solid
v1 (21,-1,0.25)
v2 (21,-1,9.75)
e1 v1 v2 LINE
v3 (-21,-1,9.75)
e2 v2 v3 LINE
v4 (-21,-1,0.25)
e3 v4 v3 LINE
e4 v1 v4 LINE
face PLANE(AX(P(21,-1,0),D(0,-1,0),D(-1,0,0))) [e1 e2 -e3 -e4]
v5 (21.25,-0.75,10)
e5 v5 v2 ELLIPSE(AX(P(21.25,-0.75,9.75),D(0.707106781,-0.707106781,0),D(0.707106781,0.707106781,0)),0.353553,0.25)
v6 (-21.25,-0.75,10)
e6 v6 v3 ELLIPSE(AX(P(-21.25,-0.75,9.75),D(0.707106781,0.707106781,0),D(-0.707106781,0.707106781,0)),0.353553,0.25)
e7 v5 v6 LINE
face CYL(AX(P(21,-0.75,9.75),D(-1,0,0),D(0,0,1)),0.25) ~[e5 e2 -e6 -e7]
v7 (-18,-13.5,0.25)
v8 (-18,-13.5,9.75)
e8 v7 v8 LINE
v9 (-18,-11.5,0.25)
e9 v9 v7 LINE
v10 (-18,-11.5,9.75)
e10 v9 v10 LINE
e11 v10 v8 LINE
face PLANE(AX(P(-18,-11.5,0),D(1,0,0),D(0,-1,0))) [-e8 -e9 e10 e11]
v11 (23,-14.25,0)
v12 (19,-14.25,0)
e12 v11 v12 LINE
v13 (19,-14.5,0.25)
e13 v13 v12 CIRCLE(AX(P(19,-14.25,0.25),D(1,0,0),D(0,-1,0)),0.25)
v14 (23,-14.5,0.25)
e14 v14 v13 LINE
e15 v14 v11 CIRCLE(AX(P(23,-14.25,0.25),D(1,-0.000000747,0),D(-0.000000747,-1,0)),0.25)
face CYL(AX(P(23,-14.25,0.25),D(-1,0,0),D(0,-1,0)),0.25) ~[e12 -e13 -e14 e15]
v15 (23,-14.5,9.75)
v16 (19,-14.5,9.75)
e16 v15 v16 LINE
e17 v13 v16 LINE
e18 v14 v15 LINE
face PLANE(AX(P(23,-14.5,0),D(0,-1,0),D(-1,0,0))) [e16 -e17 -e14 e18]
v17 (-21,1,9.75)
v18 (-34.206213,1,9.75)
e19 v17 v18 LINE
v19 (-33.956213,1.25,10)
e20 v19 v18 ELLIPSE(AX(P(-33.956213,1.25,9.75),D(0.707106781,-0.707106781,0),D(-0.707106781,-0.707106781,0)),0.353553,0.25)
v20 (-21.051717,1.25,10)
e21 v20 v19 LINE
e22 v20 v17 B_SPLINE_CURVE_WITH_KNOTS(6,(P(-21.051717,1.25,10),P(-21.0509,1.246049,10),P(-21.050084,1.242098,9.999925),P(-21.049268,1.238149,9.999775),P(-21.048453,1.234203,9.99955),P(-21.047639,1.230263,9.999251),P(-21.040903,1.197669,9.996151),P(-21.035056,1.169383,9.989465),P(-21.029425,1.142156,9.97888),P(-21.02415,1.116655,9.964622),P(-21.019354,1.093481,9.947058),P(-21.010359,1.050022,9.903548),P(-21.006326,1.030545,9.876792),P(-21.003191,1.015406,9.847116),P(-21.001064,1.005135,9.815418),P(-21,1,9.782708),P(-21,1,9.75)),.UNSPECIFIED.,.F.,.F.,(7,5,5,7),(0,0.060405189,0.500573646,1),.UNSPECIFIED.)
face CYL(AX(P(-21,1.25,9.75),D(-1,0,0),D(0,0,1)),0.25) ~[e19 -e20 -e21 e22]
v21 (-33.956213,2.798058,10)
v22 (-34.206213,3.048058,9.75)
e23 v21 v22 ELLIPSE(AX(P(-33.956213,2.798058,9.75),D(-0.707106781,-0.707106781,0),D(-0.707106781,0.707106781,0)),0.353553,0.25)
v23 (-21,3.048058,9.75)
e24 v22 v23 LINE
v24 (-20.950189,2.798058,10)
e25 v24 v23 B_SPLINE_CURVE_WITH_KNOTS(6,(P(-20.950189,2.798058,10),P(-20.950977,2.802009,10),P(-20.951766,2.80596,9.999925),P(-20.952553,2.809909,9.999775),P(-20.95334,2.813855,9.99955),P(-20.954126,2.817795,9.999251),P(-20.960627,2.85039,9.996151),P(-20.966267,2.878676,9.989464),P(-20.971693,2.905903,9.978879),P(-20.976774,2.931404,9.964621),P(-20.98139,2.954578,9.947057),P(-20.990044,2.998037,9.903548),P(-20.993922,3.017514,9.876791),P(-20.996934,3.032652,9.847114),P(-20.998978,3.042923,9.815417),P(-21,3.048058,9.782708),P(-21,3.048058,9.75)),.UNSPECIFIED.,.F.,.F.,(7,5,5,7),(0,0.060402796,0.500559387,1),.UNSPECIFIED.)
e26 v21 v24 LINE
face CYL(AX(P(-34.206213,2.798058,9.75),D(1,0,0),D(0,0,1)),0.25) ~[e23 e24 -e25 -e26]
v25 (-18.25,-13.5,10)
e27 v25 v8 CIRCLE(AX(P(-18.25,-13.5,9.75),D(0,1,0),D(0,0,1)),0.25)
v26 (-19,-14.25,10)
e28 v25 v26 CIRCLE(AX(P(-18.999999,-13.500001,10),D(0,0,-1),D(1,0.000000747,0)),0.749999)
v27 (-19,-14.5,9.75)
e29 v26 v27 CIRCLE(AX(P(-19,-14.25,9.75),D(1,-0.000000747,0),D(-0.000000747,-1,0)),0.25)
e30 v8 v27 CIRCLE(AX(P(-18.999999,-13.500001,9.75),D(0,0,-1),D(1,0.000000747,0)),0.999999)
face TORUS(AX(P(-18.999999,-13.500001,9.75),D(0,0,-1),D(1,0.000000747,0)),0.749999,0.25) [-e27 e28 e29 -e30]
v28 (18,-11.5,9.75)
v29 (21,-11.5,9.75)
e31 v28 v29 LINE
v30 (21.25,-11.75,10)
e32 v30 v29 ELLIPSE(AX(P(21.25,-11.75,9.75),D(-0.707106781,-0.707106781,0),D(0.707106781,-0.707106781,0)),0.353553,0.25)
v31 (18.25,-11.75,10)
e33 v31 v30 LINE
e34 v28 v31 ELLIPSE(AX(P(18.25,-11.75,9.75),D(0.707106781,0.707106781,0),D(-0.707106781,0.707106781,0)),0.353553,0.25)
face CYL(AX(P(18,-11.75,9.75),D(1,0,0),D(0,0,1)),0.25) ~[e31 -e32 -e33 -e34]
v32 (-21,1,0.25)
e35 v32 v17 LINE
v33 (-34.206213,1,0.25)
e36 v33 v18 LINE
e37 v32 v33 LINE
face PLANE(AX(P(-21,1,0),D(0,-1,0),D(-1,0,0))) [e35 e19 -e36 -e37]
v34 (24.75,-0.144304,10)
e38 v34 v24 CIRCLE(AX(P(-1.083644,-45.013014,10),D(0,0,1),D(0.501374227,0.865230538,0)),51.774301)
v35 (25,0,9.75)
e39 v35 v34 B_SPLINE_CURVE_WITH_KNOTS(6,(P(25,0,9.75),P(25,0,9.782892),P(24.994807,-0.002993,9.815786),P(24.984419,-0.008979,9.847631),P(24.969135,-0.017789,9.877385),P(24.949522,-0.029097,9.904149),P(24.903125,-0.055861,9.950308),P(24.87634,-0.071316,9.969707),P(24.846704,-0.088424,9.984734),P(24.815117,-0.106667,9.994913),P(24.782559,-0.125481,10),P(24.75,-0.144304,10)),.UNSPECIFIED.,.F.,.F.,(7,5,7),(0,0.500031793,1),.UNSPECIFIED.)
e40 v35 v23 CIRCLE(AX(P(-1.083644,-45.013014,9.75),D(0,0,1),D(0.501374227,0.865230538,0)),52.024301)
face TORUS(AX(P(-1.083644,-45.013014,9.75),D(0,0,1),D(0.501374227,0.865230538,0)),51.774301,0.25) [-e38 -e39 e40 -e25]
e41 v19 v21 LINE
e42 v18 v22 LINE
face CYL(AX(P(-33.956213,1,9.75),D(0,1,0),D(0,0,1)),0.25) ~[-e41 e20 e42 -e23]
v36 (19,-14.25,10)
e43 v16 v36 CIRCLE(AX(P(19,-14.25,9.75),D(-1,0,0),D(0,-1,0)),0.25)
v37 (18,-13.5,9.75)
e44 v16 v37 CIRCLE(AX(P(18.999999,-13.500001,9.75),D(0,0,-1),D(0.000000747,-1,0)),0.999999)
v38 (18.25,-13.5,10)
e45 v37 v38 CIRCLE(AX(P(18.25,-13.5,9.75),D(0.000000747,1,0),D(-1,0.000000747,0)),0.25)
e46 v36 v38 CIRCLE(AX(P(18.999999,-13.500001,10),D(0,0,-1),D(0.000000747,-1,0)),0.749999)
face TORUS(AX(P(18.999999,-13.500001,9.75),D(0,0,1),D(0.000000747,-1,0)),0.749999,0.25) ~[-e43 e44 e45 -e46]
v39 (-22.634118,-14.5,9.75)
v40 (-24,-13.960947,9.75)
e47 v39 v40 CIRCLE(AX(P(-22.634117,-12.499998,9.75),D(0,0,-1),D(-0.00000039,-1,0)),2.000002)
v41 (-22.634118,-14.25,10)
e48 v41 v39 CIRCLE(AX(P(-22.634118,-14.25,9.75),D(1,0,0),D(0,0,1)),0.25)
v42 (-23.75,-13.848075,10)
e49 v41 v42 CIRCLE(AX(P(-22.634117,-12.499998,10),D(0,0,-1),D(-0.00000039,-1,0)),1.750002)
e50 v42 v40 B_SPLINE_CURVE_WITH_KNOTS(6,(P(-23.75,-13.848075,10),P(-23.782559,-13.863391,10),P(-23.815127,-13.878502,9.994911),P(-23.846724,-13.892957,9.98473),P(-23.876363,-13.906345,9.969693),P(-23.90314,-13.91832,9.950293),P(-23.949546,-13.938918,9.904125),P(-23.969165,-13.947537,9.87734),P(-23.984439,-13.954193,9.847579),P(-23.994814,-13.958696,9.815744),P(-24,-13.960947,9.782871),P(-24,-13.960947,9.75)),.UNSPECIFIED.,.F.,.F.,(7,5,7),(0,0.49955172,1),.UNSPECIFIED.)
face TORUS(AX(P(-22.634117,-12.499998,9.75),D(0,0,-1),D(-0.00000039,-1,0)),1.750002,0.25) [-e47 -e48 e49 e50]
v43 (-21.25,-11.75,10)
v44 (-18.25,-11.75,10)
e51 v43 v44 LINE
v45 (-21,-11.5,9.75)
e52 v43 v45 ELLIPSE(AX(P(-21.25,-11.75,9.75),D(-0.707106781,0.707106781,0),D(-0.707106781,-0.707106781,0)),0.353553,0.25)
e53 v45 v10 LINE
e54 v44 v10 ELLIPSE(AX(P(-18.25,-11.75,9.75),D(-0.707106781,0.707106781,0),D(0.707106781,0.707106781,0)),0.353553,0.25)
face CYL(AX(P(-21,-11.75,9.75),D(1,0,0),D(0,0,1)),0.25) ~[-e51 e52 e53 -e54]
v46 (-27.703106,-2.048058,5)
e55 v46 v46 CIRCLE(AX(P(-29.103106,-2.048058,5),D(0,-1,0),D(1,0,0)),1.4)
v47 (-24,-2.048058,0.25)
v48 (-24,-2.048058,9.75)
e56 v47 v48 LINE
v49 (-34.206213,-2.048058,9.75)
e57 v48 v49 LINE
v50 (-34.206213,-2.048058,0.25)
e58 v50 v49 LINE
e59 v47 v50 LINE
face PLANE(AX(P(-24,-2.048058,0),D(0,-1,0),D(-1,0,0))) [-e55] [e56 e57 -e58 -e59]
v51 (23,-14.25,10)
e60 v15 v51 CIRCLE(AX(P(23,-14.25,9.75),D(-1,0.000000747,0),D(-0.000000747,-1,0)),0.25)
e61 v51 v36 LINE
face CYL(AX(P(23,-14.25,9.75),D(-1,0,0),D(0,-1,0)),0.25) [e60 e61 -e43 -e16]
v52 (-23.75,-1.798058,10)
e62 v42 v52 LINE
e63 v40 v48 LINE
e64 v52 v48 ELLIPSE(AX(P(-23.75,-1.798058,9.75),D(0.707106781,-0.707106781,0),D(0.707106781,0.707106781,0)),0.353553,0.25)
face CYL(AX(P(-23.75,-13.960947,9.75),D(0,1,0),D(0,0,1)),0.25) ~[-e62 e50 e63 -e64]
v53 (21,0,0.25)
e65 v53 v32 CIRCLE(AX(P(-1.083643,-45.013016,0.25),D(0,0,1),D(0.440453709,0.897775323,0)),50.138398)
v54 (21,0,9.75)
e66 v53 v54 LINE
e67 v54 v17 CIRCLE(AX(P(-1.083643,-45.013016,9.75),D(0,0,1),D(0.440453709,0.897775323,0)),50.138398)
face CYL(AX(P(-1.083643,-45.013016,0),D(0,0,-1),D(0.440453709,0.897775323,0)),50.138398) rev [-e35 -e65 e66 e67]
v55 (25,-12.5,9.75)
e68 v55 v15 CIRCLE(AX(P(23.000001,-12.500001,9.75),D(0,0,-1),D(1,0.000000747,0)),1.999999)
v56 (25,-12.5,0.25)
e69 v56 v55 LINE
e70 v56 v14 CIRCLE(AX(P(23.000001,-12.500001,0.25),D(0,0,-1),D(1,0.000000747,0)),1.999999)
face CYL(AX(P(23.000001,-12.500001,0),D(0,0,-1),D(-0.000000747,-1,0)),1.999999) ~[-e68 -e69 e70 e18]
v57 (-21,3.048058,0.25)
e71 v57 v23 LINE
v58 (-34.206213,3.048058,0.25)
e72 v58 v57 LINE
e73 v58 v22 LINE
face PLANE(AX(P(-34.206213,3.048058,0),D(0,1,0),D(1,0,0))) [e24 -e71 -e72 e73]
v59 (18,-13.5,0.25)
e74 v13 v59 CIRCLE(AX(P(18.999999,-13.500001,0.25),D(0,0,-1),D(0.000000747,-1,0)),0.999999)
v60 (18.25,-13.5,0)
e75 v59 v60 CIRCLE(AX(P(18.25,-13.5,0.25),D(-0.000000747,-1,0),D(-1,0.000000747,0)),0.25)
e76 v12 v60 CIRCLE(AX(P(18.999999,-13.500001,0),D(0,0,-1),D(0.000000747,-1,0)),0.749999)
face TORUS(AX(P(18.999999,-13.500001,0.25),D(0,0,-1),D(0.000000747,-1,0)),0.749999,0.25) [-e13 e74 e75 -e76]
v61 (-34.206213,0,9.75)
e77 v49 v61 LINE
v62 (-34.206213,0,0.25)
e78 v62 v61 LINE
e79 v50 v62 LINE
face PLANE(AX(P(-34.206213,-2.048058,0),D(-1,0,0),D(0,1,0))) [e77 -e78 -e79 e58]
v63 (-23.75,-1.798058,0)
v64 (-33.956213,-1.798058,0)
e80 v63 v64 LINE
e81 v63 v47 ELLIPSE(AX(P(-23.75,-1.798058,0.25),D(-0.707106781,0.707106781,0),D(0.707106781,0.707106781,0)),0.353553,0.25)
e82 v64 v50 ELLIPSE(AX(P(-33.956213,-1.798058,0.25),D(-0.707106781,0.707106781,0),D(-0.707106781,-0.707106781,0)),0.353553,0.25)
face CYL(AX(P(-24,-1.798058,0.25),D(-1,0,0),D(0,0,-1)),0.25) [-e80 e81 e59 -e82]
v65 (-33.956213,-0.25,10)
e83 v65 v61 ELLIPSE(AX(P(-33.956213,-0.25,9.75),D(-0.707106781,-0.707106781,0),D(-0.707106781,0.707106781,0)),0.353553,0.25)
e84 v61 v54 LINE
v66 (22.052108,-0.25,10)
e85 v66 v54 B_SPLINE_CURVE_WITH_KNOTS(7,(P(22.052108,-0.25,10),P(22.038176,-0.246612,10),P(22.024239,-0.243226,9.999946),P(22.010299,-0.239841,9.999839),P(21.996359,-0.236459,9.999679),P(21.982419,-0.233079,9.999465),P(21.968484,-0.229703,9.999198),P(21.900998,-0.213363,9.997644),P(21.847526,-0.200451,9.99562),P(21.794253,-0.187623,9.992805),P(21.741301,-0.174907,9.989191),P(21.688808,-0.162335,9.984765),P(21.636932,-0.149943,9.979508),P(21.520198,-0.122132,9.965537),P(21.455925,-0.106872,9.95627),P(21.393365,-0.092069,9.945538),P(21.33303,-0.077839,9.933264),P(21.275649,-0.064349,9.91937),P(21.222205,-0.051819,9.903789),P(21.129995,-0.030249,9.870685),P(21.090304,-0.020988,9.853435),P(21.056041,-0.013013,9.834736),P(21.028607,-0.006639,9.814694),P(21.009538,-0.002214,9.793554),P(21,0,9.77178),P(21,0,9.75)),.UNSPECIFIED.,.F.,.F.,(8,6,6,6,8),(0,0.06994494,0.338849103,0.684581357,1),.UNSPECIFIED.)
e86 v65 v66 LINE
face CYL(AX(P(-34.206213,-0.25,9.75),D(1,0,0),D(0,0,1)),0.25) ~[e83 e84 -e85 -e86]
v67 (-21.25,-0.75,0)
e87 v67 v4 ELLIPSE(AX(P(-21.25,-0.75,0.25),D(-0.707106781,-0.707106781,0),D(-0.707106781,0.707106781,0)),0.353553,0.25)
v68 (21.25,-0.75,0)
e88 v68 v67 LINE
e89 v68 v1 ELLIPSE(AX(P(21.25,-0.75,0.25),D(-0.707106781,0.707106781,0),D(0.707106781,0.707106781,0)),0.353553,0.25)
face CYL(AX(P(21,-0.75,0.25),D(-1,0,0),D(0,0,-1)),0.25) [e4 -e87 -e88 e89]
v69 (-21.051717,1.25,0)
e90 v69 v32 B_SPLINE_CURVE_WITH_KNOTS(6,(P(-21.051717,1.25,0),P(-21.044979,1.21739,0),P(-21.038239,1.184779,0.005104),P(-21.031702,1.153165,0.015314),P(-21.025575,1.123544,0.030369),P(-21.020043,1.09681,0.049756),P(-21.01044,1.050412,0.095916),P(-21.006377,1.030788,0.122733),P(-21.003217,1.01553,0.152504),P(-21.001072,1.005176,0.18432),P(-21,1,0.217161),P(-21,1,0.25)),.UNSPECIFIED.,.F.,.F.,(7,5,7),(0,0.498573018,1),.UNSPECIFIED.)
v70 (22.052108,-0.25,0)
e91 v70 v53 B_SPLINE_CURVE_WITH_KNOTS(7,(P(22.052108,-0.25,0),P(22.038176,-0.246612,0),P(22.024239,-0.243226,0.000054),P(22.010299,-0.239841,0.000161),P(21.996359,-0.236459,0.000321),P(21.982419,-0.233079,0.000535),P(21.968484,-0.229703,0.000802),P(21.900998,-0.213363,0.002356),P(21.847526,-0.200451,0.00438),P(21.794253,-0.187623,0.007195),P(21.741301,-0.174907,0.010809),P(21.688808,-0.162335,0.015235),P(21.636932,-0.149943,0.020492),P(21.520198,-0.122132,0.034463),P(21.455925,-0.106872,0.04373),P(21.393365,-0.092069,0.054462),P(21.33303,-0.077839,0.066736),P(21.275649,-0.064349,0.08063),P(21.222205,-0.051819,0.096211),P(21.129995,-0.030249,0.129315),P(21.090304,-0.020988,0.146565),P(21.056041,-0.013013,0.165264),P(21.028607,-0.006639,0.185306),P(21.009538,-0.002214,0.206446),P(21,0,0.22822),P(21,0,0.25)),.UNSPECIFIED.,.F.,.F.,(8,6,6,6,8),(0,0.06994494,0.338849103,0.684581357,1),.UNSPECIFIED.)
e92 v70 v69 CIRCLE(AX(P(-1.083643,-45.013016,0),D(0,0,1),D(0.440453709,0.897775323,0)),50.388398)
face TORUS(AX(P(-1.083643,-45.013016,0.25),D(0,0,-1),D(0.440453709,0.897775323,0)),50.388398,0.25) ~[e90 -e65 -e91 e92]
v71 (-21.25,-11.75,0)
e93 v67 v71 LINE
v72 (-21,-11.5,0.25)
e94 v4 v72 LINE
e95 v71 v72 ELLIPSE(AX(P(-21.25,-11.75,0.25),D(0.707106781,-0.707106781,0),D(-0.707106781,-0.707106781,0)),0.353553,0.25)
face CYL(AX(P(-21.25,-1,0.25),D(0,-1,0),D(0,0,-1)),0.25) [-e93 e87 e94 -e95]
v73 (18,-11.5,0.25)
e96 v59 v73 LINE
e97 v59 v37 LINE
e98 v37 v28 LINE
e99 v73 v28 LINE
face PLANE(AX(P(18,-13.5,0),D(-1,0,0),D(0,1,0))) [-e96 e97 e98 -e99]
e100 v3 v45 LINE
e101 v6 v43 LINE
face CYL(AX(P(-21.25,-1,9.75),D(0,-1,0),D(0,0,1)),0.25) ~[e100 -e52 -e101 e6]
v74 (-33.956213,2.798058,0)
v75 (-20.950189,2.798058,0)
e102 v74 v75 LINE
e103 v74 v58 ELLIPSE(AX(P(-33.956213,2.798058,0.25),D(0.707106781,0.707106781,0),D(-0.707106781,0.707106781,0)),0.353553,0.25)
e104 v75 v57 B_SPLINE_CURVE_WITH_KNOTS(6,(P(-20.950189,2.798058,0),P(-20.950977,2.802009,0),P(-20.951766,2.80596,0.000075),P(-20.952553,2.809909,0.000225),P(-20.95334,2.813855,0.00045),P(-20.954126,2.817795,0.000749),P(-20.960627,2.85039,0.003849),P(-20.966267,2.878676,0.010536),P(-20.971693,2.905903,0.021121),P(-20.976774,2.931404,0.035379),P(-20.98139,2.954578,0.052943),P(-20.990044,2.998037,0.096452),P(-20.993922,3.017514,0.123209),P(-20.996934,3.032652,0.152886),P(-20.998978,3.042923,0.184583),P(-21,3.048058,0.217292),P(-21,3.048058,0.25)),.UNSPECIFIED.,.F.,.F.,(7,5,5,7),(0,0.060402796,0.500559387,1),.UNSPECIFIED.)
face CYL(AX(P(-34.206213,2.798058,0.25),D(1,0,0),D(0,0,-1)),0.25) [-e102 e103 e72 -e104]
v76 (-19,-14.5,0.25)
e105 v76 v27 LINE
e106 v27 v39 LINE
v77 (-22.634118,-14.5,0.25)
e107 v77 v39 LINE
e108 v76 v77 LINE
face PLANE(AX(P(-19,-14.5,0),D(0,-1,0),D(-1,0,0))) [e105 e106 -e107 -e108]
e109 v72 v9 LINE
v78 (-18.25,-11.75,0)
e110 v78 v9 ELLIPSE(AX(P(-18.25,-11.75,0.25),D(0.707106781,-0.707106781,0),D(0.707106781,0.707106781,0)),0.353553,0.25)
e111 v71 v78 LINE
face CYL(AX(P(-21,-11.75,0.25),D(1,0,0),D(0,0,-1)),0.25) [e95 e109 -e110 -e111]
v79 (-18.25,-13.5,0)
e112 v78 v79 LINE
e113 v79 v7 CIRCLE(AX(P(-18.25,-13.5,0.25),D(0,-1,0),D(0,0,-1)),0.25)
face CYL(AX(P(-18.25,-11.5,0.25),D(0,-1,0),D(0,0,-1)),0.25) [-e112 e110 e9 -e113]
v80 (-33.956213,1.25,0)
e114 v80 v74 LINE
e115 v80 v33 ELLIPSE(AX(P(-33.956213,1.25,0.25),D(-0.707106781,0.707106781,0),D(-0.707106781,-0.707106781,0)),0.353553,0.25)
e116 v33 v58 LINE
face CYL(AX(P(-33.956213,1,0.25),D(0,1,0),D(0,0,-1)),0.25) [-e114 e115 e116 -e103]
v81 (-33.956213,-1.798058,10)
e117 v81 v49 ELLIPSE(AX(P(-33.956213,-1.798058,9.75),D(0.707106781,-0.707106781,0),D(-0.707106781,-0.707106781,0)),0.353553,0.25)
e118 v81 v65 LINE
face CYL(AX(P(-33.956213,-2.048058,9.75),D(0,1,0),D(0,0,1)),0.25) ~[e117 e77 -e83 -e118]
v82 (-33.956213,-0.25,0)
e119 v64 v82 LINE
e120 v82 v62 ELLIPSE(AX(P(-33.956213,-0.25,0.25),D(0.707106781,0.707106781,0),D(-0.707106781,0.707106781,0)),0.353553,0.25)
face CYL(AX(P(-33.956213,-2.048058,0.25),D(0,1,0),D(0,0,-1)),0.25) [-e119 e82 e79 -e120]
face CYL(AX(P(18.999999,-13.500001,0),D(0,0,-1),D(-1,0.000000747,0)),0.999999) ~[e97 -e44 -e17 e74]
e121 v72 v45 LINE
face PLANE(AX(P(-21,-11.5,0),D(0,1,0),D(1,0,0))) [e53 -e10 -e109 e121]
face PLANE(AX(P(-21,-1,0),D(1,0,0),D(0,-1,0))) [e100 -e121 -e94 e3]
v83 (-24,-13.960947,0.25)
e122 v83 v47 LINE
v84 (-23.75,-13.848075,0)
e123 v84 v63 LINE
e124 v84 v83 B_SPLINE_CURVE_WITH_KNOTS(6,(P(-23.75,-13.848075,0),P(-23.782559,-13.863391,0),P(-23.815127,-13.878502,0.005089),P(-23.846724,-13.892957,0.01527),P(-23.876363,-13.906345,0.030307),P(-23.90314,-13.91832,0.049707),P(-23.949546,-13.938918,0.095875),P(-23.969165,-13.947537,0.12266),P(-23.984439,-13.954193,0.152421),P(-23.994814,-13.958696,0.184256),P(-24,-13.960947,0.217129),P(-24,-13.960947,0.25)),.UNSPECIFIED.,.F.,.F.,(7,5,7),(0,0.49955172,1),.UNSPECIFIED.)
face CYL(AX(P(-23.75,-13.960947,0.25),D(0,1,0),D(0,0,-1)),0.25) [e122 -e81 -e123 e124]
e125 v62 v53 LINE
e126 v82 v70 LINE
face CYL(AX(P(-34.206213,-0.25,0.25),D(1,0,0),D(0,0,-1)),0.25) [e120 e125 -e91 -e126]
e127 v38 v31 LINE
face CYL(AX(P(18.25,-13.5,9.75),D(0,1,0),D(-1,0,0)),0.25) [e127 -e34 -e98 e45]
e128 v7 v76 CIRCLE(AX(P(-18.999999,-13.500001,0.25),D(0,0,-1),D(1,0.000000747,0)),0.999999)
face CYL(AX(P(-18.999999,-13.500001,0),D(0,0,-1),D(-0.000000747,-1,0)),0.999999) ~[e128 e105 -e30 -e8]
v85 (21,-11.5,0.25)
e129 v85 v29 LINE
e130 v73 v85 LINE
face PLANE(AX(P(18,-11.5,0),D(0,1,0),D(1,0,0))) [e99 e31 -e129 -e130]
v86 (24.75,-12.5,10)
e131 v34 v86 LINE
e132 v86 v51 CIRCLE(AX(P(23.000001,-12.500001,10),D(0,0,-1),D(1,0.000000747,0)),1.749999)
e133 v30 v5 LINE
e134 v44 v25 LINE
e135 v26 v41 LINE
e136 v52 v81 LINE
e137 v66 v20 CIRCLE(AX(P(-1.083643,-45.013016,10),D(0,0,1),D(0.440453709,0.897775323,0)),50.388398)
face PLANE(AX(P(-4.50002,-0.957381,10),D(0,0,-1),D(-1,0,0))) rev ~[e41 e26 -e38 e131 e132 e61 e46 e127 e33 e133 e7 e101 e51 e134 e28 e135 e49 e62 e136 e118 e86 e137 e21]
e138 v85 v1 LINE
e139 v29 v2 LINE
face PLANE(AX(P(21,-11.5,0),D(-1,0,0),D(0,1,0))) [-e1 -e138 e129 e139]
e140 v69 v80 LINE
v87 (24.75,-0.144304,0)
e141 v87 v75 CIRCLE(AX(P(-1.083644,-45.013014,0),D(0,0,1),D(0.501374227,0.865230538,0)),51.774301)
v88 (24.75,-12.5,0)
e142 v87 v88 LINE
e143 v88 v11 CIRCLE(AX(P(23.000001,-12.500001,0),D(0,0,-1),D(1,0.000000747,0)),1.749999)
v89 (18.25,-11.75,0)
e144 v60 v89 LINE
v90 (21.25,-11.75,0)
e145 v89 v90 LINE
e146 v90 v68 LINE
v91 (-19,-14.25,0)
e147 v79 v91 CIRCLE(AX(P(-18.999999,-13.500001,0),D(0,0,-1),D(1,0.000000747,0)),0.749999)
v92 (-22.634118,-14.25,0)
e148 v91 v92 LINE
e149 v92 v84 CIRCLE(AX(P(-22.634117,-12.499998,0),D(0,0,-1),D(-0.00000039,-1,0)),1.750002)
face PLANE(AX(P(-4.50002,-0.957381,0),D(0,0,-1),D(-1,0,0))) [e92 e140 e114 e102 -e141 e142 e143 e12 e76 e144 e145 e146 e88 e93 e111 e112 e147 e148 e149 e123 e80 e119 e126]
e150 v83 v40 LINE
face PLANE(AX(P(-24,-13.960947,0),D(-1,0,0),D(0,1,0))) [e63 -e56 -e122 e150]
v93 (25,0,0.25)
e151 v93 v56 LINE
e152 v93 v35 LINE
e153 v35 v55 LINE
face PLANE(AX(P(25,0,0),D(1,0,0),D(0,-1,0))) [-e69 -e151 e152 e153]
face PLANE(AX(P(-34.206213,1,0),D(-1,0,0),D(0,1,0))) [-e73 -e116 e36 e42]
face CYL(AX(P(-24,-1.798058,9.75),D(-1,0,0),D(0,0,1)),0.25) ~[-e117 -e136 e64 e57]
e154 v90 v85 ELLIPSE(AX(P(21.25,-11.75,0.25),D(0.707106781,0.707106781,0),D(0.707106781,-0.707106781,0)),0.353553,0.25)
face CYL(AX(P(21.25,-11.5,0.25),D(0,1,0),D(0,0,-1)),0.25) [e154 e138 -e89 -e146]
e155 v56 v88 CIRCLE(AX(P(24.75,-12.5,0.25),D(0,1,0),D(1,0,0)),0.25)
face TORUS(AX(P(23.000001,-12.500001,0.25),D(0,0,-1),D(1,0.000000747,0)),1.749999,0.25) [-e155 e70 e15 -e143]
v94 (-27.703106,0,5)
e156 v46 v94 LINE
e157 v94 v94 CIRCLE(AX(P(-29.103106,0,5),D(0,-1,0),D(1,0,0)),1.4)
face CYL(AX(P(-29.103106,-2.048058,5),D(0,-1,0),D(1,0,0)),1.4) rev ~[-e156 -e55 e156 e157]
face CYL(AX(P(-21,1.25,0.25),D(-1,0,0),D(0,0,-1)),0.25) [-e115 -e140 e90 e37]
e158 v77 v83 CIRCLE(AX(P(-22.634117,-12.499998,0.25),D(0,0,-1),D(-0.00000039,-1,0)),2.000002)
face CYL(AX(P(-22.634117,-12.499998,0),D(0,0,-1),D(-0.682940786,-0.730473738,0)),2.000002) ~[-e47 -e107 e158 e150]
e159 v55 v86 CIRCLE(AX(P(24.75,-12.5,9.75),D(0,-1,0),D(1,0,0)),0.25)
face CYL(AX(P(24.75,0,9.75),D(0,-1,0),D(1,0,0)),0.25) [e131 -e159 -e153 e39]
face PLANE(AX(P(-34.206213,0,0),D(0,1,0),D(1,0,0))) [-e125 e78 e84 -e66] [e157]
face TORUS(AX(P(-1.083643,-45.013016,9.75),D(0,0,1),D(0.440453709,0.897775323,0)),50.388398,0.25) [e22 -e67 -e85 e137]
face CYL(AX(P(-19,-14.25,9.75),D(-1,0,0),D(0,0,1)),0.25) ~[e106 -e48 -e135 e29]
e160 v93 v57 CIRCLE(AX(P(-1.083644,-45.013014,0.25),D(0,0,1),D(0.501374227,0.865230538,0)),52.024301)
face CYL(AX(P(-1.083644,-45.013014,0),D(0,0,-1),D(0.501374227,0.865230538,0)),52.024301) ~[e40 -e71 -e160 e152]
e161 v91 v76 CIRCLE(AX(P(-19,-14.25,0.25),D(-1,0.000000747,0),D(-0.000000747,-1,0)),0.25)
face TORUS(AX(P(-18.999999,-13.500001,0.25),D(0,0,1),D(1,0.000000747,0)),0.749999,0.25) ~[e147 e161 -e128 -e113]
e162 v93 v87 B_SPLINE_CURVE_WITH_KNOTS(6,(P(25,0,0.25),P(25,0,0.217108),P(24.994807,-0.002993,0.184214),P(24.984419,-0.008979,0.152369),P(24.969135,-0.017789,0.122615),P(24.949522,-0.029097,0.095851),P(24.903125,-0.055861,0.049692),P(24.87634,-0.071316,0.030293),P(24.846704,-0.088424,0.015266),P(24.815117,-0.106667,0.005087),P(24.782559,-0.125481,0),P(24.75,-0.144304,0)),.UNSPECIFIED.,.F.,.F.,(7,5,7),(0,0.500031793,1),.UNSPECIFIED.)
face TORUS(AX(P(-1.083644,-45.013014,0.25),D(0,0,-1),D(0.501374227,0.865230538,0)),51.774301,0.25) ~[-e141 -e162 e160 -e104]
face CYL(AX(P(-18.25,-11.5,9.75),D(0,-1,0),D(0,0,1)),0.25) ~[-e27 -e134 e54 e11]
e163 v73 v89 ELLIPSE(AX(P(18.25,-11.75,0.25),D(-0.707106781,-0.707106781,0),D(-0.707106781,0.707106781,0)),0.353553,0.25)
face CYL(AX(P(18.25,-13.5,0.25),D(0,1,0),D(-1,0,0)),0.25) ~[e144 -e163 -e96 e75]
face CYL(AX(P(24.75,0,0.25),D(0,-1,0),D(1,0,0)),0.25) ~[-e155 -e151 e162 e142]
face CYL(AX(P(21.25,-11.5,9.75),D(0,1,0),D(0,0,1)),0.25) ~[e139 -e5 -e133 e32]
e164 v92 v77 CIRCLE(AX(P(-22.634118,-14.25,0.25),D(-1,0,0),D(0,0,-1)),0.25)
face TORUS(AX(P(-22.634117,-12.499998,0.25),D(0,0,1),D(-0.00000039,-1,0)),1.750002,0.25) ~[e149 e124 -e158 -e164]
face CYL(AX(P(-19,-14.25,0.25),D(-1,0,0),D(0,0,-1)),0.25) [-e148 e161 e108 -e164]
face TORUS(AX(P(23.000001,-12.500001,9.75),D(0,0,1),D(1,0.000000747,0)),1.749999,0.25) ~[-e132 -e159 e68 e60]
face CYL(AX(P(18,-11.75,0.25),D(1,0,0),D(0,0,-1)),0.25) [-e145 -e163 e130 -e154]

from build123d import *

# Parameters (mm, degrees)
PAD_DEPTH       = 10
SKETCH001_W     = 9.110509
SKETCH001_H     = 17.177114
POCKET_DEPTH    = 3.001
SKETCH002_R     = 1.4
POCKET001_DEPTH = 2.048058
FILLET_R        = 0.25


with BuildPart() as part:
    # Sketch → Pad (new body)
    with BuildSketch(Plane.XY):
        with BuildLine():
            Line((25, 0), (25, -12.5))
            ThreePointArc((23, -14.5), (24.414214, -13.914214), (25, -12.5))
            Line((23, -14.5), (19, -14.5))
            ThreePointArc((18, -13.5), (18.292893, -14.207107), (19, -14.5))
            Line((18, -13.5), (18, -11.5))
            Line((18, -11.5), (21, -11.5))
            Line((21, -11.5), (21, -1))
            Line((21, -1), (-21, -1))
            Line((-21, -1), (-21, -11.5))
            Line((-21, -11.5), (-18, -11.5))
            Line((-18, -11.5), (-18, -13.5))
            ThreePointArc((-19, -14.5), (-18.292893, -14.207107), (-18, -13.5))
            Line((-19, -14.5), (-22.634118, -14.5))
            ThreePointArc((-24, -13.960947), (-23.36832, -14.360362), (-22.634118, -14.5))
            Line((-24, -13.960947), (-24, -2.048058))
            Line((-24, -2.048058), (-34.206213, -2.048058))
            Line((-34.206213, -2.048058), (-34.206213, 0))
            Line((-34.206213, 0), (-21, 0))
            Line((-21, 0), (21, 0))
            ThreePointArc((21, 0), (0.10979, 5.111176), (-21, 1))
            Line((-21, 1), (-34.206213, 1))
            Line((-34.206213, 1), (-34.206213, 3.048058))
            Line((-34.206213, 3.048058), (-21, 3.048058))
            ThreePointArc((25, 0), (2.356054, 6.897451), (-21, 3.048058))
        make_face()
    extrude(amount=PAD_DEPTH)

    # Sketch001 (on Face16 of Pad) → Pocket (cut, through all)
    with BuildSketch(Plane(origin=(0, -11.5, 0), x_dir=(-1, 0, 0), z_dir=(0, 1, 0))):
        with Locations((-4.555255, 16.023105)):
            Rectangle(SKETCH001_W, SKETCH001_H)
    extrude(amount=-POCKET_DEPTH, mode=Mode.SUBTRACT)

    # Sketch002 (on Face2 of Pad) → Pocket001 (cut)
    with BuildSketch(Plane.XZ.offset(2.048058)):
        with Locations((-29.103106, 5)):
            Circle(SKETCH002_R)
    extrude(amount=-POCKET001_DEPTH, mode=Mode.SUBTRACT)

    # Fillet
    fillet_edges = [part.edges().sort_by_distance(p)[0] for p in [
        (-24, -8.004502, 0),
        (-29.103106, -2.048058, 0),
        (-34.206213, -1.024029, 0),
        (-27.603106, 0, 0),
        (0, 0, 0),
        (0.10979, 5.111176, 0),
        (-27.603106, 1, 0),
        (-34.206213, 2.024029, 0),
        (-27.603106, 3.048058, 0),
        (2.356054, 6.897451, 0),
        (25, -6.25, 0),
        (24.414214, -13.914214, 0),
        (21, -14.5, 0),
        (18.292893, -14.207107, 0),
        (18, -12.5, 0),
        (19.5, -11.5, 0),
        (21, -6.25, 0),
        (0, -1, 0),
        (-21, -6.25, 0),
        (-19.5, -11.5, 0),
        (-18, -12.5, 0),
        (-18.292893, -14.207107, 0),
        (-20.817059, -14.5, 0),
        (-23.36832, -14.360362, 0),
        (-24, -8.004502, 10),
        (-29.103106, -2.048058, 10),
        (-34.206213, -1.024029, 10),
        (-27.603106, 0, 10),
        (0, 0, 10),
        (0.10979, 5.111176, 10),
        (-27.603106, 1, 10),
        (-34.206213, 2.024029, 10),
        (-27.603106, 3.048058, 10),
        (2.356054, 6.897451, 10),
        (25, -6.25, 10),
        (24.414214, -13.914214, 10),
        (21, -14.5, 10),
        (18.292893, -14.207107, 10),
        (18, -12.5, 10),
        (19.5, -11.5, 10),
        (21, -6.25, 10),
        (0, -1, 10),
        (-21, -6.25, 10),
        (-19.5, -11.5, 10),
        (-18, -12.5, 10),
        (-18.292893, -14.207107, 10),
        (-20.817059, -14.5, 10),
        (-23.36832, -14.360362, 10),
    ]]
    fillet(fillet_edges, radius=FILLET_R)


solid = part.part
